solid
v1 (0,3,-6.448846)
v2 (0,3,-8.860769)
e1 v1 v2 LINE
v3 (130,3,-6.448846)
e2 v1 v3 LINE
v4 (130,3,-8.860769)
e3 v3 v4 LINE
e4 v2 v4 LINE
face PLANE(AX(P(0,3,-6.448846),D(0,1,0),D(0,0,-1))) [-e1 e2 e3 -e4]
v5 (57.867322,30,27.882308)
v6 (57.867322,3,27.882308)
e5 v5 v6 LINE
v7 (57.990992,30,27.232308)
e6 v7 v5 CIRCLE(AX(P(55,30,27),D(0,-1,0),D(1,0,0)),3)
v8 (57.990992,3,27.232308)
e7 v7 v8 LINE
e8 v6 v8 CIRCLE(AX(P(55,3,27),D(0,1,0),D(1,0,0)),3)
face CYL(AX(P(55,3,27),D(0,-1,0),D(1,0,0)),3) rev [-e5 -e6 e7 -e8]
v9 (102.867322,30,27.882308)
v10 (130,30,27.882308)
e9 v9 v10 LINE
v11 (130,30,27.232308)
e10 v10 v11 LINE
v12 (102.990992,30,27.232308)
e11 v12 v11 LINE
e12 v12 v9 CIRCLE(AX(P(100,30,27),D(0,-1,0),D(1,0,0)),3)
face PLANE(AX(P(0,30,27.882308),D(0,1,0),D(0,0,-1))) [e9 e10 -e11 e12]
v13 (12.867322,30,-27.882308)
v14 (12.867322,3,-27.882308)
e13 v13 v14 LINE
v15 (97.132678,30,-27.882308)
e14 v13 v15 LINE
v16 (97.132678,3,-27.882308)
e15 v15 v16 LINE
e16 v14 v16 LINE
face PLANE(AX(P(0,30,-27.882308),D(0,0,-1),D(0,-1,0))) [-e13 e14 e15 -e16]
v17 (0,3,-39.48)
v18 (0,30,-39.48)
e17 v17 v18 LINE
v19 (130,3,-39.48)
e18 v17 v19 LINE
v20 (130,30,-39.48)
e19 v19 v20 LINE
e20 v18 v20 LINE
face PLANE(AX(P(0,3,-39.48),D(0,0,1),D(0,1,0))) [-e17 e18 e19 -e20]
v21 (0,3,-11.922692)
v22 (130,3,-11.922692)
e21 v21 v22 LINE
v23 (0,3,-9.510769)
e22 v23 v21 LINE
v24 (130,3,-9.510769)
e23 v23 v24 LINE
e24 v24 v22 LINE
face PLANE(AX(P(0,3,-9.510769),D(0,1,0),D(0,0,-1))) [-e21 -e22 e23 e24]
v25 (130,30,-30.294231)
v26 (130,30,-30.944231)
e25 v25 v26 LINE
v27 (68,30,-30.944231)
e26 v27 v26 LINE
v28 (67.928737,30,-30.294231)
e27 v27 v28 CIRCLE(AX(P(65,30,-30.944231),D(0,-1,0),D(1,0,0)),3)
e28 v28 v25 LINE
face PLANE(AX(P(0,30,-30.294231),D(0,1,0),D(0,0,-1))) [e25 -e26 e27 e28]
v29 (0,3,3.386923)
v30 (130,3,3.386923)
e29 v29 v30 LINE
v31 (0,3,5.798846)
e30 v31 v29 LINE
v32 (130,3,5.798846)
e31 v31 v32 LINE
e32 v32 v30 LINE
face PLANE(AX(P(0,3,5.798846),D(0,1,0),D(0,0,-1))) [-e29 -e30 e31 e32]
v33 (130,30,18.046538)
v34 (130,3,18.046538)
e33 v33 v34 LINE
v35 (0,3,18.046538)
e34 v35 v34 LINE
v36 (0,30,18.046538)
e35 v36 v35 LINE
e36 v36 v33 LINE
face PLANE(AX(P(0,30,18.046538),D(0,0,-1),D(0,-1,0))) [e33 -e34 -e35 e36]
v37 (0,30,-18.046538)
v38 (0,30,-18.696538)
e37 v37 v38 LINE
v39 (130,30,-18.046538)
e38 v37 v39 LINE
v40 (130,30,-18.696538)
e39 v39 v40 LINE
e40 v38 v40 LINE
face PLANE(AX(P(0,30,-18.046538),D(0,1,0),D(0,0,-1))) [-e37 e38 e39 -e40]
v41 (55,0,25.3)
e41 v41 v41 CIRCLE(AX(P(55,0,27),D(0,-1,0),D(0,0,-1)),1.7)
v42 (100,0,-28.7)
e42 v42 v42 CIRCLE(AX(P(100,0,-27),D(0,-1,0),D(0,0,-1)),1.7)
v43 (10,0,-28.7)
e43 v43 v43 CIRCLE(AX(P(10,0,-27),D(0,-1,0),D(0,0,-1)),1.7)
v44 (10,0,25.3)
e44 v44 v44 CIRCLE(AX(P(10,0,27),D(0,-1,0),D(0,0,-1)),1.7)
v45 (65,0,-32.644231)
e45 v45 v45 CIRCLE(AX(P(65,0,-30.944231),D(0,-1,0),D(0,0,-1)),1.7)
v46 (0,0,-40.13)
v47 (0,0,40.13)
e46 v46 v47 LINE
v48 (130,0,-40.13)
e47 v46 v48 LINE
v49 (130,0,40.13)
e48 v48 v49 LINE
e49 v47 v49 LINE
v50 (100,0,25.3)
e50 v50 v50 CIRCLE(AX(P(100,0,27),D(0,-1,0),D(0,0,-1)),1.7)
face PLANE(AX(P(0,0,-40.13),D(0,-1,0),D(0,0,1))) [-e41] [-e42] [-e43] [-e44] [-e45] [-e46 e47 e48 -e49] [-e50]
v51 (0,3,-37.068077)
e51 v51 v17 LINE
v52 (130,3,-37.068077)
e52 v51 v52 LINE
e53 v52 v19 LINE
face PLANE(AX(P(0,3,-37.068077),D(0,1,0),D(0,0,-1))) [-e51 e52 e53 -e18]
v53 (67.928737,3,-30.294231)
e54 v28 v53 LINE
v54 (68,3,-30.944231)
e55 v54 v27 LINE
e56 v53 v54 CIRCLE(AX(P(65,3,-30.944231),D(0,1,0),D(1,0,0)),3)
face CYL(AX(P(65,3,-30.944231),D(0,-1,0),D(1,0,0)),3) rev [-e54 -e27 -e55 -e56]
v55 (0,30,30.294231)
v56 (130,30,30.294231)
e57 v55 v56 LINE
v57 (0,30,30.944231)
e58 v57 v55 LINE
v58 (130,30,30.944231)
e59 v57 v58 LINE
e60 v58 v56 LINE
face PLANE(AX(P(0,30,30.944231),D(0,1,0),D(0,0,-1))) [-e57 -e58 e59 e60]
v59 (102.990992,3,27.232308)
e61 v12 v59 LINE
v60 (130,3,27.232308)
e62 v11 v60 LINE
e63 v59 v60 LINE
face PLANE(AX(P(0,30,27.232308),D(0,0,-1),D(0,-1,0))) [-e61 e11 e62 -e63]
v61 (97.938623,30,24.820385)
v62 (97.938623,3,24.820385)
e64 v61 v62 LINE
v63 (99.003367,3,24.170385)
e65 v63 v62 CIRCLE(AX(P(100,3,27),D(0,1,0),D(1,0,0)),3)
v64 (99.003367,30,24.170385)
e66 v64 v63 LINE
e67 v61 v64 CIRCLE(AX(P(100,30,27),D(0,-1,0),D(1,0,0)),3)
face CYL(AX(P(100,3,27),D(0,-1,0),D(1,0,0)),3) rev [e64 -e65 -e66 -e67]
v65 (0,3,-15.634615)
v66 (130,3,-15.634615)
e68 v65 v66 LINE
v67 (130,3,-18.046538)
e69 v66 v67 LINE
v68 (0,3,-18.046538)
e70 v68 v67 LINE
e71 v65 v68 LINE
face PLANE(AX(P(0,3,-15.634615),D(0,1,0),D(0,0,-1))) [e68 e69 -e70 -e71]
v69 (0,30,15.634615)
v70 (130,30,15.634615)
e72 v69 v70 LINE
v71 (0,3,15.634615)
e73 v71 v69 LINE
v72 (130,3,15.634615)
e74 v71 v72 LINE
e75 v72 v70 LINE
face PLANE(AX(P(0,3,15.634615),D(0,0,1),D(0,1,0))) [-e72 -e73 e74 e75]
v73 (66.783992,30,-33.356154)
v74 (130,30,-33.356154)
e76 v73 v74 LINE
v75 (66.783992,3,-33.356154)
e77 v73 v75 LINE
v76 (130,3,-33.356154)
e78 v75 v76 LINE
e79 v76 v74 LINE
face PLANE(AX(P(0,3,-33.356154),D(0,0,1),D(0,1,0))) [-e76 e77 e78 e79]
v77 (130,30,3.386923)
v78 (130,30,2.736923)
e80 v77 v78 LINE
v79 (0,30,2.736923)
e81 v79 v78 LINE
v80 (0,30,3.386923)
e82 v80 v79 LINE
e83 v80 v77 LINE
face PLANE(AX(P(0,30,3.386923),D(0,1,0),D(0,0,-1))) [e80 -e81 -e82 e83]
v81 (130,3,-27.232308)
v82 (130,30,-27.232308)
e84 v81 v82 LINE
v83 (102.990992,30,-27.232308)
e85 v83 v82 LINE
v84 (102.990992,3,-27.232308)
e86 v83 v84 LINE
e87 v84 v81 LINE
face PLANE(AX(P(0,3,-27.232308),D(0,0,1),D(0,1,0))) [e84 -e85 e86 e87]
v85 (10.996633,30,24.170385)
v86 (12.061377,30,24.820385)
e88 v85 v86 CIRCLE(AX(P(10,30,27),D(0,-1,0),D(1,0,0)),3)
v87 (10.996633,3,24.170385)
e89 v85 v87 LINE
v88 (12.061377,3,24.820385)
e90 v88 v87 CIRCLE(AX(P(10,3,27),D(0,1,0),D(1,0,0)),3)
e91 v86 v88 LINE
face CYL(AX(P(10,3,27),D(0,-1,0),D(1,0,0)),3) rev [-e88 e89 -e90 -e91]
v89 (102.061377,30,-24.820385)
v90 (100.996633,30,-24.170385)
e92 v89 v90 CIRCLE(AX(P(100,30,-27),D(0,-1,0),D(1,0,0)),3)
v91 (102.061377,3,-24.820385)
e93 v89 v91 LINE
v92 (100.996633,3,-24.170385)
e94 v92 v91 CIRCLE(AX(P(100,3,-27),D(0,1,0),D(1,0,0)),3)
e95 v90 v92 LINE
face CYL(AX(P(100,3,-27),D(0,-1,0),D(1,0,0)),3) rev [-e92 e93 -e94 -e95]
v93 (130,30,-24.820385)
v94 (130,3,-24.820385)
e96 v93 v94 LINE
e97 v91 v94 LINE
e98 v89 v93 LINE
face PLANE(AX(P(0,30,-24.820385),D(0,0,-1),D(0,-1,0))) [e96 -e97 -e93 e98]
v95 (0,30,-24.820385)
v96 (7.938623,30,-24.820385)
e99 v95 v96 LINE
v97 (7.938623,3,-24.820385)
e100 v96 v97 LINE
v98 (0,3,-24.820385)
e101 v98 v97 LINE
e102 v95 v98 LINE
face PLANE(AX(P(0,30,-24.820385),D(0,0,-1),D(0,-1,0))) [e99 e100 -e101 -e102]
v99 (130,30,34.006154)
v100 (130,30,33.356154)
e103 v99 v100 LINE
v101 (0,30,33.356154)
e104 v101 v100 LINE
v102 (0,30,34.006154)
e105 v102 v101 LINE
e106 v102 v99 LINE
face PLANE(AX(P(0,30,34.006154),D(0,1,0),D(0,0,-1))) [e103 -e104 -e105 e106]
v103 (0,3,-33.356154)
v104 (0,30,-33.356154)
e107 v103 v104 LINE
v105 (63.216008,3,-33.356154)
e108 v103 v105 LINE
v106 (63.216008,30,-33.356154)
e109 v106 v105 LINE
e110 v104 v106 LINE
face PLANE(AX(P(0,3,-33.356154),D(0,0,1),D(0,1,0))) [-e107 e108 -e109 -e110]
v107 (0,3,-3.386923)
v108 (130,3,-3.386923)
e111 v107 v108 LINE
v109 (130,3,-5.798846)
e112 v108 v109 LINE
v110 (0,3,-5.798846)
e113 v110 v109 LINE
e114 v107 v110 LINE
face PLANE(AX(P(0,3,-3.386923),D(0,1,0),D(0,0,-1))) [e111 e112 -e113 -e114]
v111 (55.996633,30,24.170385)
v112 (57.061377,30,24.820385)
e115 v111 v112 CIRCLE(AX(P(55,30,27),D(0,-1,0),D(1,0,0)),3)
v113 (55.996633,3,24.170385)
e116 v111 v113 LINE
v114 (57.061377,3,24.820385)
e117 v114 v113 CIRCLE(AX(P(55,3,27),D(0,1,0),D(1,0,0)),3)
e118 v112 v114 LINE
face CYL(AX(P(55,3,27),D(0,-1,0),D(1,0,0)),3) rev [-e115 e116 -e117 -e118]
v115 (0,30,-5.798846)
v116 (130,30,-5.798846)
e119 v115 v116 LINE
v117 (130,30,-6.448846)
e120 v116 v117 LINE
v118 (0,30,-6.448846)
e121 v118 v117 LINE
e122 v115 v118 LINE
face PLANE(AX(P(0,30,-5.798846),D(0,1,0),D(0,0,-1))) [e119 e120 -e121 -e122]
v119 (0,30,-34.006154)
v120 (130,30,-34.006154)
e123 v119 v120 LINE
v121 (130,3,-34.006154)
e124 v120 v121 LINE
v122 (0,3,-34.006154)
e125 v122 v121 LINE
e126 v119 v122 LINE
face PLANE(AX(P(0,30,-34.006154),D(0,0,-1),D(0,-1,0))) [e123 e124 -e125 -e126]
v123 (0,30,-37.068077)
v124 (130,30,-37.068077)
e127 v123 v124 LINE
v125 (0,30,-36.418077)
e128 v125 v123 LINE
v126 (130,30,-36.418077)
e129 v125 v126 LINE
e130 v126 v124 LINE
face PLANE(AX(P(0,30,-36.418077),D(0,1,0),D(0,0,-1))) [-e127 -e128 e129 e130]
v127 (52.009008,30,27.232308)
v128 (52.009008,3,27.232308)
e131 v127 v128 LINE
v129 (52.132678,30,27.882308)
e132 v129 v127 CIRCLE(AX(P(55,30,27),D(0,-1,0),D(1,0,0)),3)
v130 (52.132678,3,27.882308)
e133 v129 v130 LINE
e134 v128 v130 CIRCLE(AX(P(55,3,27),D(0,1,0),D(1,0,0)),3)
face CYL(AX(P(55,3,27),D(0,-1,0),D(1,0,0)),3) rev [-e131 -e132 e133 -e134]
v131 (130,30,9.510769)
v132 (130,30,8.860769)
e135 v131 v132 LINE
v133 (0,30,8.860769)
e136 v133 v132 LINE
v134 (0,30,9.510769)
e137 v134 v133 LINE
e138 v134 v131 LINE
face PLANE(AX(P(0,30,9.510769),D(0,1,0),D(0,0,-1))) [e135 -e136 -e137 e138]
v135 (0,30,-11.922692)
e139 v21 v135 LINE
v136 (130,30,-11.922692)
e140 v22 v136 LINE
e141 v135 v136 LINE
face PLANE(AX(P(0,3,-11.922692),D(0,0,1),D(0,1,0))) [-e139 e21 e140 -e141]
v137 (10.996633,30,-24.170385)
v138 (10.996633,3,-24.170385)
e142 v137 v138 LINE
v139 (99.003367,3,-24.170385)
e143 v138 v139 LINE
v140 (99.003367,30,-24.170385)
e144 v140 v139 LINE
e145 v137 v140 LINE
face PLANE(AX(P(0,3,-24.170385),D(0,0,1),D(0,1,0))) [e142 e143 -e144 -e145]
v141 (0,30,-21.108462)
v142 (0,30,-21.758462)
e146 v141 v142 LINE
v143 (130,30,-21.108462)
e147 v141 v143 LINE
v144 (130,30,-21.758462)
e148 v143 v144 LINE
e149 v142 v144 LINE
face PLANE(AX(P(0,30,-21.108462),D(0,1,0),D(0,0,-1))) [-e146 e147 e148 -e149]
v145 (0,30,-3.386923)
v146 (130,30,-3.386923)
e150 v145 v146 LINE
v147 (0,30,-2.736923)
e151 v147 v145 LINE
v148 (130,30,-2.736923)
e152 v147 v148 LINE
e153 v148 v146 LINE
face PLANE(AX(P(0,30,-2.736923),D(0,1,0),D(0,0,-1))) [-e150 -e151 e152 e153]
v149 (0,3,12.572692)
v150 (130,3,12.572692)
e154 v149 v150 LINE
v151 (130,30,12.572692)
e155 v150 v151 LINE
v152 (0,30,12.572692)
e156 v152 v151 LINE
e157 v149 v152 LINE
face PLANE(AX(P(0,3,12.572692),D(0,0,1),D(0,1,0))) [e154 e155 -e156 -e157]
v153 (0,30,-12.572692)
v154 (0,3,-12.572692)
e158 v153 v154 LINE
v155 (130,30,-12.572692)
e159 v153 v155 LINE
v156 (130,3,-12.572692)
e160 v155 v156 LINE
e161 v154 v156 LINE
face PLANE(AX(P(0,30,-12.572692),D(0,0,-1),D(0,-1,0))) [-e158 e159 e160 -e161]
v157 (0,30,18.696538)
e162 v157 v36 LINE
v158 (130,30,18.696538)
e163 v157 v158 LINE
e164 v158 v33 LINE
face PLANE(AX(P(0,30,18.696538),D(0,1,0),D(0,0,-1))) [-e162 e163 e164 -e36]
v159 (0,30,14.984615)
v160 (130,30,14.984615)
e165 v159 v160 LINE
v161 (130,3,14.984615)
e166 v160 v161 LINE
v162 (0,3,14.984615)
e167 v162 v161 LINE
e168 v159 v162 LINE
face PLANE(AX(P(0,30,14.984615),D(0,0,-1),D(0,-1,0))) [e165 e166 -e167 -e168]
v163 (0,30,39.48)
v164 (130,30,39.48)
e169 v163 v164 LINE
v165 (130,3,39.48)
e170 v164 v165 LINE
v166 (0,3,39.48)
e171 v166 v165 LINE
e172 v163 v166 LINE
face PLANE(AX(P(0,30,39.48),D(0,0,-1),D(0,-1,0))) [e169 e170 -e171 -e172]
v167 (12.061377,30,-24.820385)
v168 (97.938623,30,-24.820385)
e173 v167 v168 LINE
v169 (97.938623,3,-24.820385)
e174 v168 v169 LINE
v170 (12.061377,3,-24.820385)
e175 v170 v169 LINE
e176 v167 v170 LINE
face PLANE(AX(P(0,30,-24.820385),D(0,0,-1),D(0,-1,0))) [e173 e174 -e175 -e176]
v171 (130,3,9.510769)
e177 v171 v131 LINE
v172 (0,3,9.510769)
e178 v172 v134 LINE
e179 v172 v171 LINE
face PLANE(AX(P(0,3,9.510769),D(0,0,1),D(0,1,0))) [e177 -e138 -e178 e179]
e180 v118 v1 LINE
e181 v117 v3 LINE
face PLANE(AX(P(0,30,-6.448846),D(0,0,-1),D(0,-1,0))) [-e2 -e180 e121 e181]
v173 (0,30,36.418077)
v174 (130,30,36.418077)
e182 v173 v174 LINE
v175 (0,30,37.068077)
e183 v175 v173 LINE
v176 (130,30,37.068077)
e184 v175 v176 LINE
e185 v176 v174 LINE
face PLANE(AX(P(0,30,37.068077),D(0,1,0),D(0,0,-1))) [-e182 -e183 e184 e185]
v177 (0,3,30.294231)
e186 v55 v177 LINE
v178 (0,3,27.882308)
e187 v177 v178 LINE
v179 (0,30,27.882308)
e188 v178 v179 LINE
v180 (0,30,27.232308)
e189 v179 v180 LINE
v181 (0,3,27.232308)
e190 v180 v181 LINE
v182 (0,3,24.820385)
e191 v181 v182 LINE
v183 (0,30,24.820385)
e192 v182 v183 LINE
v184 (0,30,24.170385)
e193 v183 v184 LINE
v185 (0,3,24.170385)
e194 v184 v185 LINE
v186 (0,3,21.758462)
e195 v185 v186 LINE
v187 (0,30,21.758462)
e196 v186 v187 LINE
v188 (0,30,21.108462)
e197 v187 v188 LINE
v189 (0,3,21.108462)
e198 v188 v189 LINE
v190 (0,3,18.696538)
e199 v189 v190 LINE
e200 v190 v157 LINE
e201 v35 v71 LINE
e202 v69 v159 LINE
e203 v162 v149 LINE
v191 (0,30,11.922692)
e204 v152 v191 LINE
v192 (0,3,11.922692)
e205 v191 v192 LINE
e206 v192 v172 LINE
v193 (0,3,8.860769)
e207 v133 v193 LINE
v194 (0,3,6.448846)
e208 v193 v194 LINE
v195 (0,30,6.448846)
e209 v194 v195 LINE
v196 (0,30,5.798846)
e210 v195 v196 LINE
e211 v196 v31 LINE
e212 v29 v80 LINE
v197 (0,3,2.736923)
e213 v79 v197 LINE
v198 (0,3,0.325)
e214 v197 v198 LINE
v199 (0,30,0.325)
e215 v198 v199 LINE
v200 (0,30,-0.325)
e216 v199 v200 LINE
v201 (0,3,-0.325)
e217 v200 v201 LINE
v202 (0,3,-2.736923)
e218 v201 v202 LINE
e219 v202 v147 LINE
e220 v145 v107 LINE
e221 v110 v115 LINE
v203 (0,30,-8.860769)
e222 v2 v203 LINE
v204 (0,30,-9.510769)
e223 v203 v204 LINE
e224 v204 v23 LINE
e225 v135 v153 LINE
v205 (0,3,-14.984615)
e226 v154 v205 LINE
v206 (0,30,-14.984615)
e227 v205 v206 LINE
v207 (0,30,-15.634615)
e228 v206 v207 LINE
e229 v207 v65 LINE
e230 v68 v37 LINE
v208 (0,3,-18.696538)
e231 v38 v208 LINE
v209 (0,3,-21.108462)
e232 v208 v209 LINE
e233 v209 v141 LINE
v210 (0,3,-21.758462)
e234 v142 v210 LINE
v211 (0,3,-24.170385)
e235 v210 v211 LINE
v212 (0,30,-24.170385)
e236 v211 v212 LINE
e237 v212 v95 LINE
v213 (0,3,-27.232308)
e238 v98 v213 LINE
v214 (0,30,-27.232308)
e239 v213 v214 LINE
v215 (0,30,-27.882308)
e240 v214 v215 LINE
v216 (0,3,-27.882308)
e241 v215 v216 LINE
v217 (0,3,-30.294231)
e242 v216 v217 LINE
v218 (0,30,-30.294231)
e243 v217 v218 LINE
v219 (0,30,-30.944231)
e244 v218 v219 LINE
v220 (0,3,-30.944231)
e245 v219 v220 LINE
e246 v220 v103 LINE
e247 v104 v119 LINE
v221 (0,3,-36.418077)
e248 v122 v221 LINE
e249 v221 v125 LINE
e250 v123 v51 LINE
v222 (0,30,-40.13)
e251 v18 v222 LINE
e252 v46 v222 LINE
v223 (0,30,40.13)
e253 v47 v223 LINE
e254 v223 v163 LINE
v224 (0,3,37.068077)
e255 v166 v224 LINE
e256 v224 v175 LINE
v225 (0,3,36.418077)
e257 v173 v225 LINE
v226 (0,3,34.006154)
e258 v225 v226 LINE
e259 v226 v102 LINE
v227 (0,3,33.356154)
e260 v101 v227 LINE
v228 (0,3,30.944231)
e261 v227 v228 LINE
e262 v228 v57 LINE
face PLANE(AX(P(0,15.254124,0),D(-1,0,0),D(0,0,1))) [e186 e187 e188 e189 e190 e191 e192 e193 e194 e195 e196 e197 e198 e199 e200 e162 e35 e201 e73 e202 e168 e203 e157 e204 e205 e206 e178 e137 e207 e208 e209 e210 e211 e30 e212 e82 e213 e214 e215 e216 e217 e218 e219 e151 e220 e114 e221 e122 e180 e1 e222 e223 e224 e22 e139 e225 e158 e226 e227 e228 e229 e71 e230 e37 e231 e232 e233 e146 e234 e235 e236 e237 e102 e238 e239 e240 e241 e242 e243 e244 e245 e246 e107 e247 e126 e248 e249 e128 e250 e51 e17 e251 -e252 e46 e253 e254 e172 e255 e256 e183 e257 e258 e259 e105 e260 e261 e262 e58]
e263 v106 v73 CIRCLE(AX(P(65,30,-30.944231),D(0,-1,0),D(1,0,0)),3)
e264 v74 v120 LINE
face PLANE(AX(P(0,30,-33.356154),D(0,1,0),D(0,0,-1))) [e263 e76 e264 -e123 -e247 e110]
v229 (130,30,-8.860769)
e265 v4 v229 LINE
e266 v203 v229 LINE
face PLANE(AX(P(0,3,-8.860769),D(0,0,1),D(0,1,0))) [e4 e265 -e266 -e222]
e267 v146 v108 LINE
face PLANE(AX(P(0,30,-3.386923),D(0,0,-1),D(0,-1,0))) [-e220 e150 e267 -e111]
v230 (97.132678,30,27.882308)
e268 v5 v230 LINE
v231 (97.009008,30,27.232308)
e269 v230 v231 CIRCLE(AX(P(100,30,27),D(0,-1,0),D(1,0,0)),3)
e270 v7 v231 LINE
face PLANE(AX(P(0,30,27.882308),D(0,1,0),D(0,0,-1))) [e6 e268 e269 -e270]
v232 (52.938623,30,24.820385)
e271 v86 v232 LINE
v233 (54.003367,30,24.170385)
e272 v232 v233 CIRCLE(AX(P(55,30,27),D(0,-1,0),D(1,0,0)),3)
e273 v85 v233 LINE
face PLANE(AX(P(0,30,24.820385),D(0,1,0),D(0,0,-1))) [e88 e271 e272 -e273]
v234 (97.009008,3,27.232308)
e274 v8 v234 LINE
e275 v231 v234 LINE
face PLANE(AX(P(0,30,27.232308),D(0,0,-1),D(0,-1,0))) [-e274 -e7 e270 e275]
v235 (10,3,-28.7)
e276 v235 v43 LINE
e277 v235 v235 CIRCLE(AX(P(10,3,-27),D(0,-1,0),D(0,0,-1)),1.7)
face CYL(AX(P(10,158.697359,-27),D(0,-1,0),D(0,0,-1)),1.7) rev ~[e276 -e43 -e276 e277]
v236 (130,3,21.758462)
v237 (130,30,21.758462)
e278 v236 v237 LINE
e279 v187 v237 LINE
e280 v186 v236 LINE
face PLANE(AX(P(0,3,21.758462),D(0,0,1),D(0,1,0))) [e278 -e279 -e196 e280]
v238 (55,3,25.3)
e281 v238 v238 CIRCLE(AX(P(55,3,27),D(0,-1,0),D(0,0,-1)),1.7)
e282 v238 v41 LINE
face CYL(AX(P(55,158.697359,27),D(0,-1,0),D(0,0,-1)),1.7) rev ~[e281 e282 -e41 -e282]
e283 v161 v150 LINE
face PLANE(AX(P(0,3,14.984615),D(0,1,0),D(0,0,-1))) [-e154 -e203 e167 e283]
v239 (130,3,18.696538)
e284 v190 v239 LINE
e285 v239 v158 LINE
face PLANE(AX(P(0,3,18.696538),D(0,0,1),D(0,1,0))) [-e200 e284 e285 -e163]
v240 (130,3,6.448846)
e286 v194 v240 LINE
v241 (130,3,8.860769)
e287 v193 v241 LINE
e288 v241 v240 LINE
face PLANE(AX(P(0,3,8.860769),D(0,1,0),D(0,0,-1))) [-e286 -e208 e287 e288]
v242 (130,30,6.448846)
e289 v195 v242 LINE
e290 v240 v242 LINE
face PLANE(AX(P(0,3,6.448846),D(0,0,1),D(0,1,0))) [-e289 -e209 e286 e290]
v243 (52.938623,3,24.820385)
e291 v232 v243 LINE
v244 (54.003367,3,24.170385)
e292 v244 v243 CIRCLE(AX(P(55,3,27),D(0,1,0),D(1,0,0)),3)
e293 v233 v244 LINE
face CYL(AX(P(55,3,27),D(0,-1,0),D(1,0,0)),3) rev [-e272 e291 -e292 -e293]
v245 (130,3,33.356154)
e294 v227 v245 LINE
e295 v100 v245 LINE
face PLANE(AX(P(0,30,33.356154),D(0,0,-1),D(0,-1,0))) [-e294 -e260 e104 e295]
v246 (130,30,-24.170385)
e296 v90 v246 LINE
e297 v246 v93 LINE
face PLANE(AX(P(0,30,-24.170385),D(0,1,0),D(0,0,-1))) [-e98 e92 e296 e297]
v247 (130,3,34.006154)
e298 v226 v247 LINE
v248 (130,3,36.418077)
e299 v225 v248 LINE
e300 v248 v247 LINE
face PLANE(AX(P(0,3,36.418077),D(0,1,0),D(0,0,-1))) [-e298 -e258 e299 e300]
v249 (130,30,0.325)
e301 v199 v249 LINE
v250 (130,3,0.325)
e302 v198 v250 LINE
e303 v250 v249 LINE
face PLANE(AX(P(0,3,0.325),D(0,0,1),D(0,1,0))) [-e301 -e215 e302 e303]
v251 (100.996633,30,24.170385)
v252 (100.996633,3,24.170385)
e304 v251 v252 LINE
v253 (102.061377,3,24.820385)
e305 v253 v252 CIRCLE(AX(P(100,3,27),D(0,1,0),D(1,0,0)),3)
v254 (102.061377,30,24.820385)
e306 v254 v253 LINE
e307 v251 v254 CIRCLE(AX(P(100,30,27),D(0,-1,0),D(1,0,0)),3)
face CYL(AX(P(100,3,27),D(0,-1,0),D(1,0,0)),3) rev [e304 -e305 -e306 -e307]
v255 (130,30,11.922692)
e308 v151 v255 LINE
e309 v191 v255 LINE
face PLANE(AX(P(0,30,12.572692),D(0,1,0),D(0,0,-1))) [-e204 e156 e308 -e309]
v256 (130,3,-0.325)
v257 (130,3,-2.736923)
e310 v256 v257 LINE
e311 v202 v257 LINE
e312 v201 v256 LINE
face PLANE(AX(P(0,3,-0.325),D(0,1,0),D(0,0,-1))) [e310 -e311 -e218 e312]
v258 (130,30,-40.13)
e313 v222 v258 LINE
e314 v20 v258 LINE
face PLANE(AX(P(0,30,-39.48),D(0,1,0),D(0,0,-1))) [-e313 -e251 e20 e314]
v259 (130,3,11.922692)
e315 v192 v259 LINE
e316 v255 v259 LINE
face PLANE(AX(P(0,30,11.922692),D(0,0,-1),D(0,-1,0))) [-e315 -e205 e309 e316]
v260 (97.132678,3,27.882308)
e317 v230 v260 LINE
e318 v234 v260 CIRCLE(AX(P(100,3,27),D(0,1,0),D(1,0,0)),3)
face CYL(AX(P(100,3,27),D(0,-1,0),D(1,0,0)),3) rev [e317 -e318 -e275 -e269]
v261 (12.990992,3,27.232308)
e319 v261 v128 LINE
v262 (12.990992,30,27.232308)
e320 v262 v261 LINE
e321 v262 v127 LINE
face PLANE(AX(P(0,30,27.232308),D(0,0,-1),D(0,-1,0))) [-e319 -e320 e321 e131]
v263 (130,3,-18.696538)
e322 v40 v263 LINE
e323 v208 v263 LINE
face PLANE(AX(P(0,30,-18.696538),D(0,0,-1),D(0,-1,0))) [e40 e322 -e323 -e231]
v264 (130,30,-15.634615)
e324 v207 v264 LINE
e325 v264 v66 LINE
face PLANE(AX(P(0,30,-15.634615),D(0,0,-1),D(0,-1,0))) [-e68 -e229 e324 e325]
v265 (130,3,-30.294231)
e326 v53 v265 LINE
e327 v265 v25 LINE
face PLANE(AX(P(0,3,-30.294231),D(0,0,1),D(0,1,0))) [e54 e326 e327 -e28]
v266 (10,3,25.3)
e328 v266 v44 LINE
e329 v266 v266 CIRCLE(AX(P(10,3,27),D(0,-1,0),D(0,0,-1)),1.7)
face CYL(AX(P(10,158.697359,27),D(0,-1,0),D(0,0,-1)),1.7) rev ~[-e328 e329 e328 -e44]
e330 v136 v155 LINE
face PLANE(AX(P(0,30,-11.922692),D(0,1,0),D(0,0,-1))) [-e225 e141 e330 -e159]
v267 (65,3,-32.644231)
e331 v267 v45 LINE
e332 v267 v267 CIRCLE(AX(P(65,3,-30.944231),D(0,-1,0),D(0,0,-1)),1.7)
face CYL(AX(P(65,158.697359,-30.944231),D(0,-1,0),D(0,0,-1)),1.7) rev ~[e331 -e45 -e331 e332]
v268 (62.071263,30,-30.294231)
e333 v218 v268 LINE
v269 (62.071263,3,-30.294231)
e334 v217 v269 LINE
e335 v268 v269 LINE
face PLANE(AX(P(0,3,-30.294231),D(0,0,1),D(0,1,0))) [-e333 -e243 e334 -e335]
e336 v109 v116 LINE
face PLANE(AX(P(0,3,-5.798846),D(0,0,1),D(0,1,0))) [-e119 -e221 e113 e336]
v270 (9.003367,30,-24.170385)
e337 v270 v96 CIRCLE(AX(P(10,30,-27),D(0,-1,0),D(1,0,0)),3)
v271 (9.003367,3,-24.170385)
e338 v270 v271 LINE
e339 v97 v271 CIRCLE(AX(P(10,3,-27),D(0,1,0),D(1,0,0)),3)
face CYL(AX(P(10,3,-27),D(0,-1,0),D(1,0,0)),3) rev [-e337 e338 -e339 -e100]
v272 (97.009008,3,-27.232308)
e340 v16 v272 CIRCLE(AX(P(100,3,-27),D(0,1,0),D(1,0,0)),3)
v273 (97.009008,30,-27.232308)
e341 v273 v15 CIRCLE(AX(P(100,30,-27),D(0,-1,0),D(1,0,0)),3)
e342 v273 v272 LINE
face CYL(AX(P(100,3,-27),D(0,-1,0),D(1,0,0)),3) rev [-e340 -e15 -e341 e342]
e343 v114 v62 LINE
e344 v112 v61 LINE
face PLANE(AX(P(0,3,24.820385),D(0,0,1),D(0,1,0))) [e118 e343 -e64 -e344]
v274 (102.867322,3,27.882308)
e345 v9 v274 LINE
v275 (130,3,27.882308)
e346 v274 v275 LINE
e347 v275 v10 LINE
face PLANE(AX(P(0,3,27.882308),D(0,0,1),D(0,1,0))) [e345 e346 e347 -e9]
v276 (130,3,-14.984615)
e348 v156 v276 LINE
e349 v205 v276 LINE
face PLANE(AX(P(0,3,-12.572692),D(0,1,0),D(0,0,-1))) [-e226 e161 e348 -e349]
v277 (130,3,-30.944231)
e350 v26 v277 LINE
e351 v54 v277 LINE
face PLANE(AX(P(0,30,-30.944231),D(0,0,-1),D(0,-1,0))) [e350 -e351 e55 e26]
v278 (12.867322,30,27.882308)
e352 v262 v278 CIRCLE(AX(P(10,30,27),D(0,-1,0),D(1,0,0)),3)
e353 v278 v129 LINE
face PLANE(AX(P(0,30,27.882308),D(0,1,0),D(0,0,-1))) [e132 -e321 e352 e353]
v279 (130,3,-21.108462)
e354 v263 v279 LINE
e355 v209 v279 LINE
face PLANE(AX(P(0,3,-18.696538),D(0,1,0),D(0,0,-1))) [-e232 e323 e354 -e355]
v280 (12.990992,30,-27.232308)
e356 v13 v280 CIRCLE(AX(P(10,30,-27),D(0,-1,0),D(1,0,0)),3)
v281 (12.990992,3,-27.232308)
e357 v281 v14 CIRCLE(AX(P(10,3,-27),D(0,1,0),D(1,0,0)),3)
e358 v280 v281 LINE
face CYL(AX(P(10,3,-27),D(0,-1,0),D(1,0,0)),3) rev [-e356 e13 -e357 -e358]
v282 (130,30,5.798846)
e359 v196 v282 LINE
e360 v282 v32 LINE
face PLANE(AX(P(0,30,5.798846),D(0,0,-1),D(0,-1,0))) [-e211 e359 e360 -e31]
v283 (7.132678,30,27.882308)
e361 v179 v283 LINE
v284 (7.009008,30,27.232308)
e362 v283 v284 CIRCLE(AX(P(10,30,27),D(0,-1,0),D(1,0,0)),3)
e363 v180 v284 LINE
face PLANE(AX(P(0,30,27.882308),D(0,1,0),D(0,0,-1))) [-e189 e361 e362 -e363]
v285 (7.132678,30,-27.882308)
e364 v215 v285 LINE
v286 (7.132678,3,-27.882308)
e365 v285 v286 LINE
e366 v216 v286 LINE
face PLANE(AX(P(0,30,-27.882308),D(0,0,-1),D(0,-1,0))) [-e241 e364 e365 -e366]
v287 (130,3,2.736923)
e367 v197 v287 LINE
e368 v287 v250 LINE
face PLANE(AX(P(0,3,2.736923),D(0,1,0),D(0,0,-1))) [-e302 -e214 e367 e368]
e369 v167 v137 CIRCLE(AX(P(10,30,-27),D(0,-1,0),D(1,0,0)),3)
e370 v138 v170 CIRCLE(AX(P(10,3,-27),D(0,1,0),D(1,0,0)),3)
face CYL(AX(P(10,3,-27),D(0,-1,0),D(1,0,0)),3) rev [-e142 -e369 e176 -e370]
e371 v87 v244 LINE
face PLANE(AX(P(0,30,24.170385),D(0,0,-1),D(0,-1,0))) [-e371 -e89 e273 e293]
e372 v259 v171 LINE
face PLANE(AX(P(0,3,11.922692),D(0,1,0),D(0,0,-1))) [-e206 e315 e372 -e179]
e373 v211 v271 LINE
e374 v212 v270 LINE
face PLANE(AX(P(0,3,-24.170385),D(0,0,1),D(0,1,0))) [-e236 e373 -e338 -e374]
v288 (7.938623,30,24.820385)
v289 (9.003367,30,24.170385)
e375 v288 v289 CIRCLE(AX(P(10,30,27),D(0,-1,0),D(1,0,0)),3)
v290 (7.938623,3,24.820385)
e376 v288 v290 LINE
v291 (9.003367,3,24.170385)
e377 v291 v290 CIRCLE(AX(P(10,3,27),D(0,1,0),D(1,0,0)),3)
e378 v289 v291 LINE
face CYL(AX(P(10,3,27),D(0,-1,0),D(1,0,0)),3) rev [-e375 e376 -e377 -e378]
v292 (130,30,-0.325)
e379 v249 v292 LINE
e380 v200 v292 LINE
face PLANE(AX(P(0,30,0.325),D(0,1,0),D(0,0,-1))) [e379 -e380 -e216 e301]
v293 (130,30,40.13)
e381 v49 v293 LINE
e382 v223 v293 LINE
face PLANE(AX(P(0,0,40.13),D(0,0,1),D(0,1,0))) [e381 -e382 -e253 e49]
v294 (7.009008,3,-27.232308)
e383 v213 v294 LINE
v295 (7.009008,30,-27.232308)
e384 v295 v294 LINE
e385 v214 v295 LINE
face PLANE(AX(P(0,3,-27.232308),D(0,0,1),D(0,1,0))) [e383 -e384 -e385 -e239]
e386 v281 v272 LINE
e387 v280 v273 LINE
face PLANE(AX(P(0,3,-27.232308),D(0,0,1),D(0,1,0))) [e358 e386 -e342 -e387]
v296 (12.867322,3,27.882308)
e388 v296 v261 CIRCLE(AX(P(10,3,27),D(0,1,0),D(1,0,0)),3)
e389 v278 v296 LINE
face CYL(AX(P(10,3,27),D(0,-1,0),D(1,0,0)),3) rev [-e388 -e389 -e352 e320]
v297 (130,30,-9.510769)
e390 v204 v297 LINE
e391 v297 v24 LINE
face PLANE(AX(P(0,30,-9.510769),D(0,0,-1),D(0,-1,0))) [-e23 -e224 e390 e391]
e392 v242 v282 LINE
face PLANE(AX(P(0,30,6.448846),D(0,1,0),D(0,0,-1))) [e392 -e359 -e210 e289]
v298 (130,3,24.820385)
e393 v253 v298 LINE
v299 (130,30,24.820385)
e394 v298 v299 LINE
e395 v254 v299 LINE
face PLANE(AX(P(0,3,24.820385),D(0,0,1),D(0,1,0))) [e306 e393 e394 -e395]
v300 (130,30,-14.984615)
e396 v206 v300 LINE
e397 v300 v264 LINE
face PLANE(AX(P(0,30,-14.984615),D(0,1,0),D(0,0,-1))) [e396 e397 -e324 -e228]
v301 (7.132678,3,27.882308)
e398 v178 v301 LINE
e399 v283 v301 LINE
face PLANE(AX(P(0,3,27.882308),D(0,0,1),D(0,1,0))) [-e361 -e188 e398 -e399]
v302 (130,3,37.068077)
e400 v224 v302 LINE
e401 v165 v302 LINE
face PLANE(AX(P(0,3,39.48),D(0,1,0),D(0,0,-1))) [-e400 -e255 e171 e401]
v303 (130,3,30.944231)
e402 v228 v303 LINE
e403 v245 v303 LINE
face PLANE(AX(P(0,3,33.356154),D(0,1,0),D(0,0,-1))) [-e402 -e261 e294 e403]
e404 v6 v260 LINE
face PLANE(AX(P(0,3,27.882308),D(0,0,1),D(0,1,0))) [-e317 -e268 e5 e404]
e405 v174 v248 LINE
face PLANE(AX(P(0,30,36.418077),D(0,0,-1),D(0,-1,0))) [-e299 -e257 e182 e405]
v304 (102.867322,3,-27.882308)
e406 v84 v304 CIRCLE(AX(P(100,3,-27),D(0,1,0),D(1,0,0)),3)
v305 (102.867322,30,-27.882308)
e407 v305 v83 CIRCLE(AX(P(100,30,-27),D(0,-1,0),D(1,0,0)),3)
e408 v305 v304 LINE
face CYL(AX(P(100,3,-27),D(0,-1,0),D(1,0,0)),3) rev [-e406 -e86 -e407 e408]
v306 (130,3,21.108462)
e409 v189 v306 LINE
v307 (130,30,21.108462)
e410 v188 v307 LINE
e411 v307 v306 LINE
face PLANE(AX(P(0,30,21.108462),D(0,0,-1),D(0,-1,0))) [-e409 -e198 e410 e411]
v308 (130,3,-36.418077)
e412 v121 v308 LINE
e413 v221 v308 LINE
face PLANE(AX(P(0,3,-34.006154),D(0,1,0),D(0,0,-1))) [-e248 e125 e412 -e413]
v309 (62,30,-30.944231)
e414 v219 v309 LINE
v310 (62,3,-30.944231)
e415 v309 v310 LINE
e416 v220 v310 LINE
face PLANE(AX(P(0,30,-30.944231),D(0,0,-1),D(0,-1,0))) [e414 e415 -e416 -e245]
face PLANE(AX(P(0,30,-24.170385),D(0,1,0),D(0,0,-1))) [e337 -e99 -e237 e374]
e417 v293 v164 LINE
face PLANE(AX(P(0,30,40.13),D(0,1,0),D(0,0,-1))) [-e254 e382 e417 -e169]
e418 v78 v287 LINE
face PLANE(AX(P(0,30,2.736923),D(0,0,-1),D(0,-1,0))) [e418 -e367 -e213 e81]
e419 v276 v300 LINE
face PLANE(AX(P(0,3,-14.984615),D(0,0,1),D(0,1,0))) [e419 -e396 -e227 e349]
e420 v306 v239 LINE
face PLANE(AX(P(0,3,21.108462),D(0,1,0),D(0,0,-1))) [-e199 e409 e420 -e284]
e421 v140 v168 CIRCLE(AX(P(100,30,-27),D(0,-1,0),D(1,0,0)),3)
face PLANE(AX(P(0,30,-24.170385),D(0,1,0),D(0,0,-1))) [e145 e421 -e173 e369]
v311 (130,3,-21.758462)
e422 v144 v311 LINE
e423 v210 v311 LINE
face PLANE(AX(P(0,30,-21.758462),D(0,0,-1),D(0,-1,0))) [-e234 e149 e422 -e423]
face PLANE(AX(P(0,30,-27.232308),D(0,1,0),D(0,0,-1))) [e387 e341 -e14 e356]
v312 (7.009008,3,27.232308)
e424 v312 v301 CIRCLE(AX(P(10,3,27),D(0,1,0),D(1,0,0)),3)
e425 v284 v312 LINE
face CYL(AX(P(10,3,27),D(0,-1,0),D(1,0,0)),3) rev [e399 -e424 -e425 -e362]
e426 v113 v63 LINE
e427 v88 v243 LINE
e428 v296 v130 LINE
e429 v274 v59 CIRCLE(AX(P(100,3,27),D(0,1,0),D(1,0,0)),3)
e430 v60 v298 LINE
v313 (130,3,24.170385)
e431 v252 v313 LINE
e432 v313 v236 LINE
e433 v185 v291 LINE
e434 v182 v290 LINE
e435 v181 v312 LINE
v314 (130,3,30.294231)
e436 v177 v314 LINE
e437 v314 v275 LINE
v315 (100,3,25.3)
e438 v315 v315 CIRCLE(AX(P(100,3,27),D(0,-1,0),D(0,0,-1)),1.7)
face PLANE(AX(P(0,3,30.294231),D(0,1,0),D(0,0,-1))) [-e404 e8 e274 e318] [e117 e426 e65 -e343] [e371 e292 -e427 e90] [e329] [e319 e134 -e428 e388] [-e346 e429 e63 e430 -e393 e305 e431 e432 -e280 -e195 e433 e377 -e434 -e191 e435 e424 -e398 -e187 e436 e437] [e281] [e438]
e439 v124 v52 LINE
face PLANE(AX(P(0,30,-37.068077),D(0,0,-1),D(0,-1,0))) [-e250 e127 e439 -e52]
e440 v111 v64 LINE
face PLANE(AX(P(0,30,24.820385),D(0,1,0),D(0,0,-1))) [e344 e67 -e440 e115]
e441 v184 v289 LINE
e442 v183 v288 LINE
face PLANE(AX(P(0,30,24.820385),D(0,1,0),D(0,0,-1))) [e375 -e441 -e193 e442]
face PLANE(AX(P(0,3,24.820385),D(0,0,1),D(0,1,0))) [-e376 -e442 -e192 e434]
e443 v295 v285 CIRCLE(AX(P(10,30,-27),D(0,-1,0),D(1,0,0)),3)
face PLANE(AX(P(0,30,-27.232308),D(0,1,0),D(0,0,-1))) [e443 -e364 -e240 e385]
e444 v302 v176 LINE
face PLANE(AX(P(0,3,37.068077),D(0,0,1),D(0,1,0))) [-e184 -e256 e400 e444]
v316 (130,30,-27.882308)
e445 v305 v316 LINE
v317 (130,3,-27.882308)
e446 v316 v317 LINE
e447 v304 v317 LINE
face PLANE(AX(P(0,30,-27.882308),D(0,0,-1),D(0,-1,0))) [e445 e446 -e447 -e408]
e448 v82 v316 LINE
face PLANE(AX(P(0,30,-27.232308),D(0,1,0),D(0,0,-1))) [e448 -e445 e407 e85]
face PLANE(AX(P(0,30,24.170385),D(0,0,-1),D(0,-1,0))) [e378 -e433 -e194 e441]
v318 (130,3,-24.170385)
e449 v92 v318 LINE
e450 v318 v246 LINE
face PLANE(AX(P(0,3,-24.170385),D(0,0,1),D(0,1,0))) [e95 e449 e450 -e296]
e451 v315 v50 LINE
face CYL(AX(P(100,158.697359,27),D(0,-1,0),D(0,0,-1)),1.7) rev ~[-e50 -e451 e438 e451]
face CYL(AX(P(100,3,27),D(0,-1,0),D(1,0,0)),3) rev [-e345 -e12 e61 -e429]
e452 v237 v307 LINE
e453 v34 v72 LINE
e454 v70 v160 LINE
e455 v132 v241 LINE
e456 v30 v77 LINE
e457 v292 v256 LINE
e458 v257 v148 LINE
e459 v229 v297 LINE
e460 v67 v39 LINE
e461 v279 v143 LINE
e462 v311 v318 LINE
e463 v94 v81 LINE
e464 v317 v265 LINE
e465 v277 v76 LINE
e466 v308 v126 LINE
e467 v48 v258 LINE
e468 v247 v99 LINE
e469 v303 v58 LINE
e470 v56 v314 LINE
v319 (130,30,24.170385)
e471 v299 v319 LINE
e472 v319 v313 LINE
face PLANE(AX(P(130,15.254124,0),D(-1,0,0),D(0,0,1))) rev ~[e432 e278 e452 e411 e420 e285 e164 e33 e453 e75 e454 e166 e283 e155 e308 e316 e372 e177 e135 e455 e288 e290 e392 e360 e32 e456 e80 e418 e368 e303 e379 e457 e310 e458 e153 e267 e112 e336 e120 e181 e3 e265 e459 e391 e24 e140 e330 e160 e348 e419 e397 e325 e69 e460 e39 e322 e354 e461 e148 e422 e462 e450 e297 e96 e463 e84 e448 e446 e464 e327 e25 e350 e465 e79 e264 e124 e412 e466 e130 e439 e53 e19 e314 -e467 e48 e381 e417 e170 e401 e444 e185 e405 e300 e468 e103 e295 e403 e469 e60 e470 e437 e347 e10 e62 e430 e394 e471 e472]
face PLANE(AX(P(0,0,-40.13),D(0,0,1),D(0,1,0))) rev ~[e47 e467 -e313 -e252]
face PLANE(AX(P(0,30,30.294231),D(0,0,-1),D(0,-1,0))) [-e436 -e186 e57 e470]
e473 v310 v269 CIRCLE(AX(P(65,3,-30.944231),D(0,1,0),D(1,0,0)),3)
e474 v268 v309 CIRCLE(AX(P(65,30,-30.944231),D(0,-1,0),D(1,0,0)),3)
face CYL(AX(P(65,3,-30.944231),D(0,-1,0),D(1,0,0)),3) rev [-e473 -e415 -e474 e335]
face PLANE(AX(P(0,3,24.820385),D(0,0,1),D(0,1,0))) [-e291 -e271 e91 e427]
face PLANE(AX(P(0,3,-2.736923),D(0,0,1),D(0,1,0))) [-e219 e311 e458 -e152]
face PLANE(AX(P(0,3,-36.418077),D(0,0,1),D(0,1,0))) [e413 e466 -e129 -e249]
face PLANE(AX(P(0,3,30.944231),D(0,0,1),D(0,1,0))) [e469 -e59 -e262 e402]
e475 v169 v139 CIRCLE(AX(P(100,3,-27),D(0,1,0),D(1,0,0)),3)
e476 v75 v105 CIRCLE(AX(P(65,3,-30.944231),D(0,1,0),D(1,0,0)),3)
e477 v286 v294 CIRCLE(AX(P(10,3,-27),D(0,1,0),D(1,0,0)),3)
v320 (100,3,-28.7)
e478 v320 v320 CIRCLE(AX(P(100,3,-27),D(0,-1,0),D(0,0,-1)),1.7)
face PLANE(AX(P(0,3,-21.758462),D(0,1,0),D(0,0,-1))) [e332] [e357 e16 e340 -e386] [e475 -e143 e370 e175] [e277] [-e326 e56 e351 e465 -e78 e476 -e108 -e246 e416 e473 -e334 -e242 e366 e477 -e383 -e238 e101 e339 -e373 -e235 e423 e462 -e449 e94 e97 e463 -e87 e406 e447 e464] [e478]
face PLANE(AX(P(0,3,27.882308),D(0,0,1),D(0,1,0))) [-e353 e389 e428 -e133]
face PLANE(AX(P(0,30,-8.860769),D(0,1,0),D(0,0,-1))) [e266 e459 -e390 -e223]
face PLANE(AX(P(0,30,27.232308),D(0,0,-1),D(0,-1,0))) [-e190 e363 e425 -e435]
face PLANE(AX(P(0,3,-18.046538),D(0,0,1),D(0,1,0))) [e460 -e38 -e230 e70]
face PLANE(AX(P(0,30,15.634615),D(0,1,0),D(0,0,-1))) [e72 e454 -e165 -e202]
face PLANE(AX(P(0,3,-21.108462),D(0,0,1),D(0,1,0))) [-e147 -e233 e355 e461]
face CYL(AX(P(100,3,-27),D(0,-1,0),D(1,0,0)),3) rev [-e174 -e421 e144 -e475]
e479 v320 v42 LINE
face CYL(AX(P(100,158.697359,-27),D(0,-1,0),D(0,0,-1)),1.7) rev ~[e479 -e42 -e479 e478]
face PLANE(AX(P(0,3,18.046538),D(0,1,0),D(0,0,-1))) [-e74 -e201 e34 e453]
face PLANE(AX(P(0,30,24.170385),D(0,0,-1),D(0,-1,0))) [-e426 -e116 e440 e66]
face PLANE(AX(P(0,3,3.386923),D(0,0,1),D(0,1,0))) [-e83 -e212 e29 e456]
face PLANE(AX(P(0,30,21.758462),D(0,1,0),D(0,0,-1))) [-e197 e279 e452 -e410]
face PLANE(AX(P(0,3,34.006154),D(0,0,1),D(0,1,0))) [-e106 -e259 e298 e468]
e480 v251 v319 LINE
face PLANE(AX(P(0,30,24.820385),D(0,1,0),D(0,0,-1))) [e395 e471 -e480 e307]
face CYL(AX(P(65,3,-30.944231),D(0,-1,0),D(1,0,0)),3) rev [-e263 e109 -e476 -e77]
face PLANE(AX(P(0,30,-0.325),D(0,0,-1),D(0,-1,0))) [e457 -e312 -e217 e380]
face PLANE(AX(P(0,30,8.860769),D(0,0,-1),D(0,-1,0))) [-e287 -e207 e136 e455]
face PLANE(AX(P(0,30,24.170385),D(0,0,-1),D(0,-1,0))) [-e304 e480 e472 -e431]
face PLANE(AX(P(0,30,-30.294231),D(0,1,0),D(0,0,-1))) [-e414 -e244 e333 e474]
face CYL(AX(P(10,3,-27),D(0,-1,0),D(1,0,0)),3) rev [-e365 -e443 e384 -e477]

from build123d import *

# Parameters (mm, degrees)
BOSS_EXTRUDE1_DEPTH  = 130
SKETCH2_R            = 3
CUT_EXTRUDE1_DEPTH   = 139.706225167
M3_CLEARANCE_HOLE1_D = 3.4


with BuildPart() as part:
    # Sketch1 → Boss-Extrude1 (new body)
    with BuildSketch(Plane(origin=(0, 0, 0), x_dir=(0, 0, -1), z_dir=(1, 0, 0))):
        Polygon((-40.13, 0), (-40.13, 30), (-39.48, 30), (-39.48, 3), (-37.068076923, 3), (-37.068076923, 30), (-36.418076923, 30), (-36.418076923, 3), (-34.006153846, 3), (-34.006153846, 30), (-33.356153846, 30), (-33.356153846, 3), (-30.944230769, 3), (-30.944230769, 30), (-30.294230769, 30), (-30.294230769, 3), (-27.882307692, 3), (-27.882307692, 30), (-27.232307692, 30), (-27.232307692, 3), (-24.820384615, 3), (-24.820384615, 30), (-24.170384615, 30), (-24.170384615, 3), (-21.758461538, 3), (-21.758461538, 30), (-21.108461538, 30), (-21.108461538, 3), (-18.696538462, 3), (-18.696538462, 30), (-18.046538462, 30), (-18.046538462, 3), (-15.634615385, 3), (-15.634615385, 30), (-14.984615385, 30), (-14.984615385, 3), (-12.572692308, 3), (-12.572692308, 30), (-11.922692308, 30), (-11.922692308, 3), (-9.510769231, 3), (-9.510769231, 30), (-8.860769231, 30), (-8.860769231, 3), (-6.448846154, 3), (-6.448846154, 30), (-5.798846154, 30), (-5.798846154, 3), (-3.386923077, 3), (-3.386923077, 30), (-2.736923077, 30), (-2.736923077, 3), (-0.325, 3), (-0.325, 30), (0.325, 30), (0.325, 3), (2.736923077, 3), (2.736923077, 30), (3.386923077, 30), (3.386923077, 3), (5.798846154, 3), (5.798846154, 30), (6.448846154, 30), (6.448846154, 3), (8.860769231, 3), (8.860769231, 30), (9.510769231, 30), (9.510769231, 3), (11.922692308, 3), (11.922692308, 30), (12.572692308, 30), (12.572692308, 3), (14.984615385, 3), (14.984615385, 30), (15.634615385, 30), (15.634615385, 3), (18.046538462, 3), (18.046538462, 30), (18.696538462, 30), (18.696538462, 3), (21.108461538, 3), (21.108461538, 30), (21.758461538, 30), (21.758461538, 3), (24.170384615, 3), (24.170384615, 30), (24.820384615, 30), (24.820384615, 3), (27.232307692, 3), (27.232307692, 30), (27.882307692, 30), (27.882307692, 3), (30.294230769, 3), (30.294230769, 30), (30.944230769, 30), (30.944230769, 3), (33.356153846, 3), (33.356153846, 30), (34.006153846, 30), (34.006153846, 3), (36.418076923, 3), (36.418076923, 30), (37.068076923, 30), (37.068076923, 3), (39.48, 3), (39.48, 30), (40.13, 30), (40.13, 3), (40.13, 0), align=None)
    extrude(amount=BOSS_EXTRUDE1_DEPTH)

    # Sketch2 → Cut-Extrude1 (cut, through all)
    with BuildSketch(Plane(origin=(0, 3, 0), x_dir=(1, 0, 0), z_dir=(0, 1, 0))):
        with Locations((10, 27)):
            Circle(SKETCH2_R)
        with Locations((100, 27)):
            Circle(SKETCH2_R)
        with Locations((65, 30.944230769)):
            Circle(SKETCH2_R)
        with Locations((10, -27)):
            Circle(SKETCH2_R)
        with Locations((55, -27)):
            Circle(SKETCH2_R)
        with Locations((100, -27)):
            Circle(SKETCH2_R)
    extrude(amount=CUT_EXTRUDE1_DEPTH, mode=Mode.SUBTRACT)

    # M3 Clearance Hole1 (through all)
    with Locations(Plane(origin=(10, 3, -27), x_dir=(0, 0, 1), z_dir=(0, 1, 0))):
        with Locations((0, 0), (-3.944230769, 55), (0, 90), (54, 0), (54, 45), (54, 90)):
            Hole(M3_CLEARANCE_HOLE1_D / 2)


solid = part.part
